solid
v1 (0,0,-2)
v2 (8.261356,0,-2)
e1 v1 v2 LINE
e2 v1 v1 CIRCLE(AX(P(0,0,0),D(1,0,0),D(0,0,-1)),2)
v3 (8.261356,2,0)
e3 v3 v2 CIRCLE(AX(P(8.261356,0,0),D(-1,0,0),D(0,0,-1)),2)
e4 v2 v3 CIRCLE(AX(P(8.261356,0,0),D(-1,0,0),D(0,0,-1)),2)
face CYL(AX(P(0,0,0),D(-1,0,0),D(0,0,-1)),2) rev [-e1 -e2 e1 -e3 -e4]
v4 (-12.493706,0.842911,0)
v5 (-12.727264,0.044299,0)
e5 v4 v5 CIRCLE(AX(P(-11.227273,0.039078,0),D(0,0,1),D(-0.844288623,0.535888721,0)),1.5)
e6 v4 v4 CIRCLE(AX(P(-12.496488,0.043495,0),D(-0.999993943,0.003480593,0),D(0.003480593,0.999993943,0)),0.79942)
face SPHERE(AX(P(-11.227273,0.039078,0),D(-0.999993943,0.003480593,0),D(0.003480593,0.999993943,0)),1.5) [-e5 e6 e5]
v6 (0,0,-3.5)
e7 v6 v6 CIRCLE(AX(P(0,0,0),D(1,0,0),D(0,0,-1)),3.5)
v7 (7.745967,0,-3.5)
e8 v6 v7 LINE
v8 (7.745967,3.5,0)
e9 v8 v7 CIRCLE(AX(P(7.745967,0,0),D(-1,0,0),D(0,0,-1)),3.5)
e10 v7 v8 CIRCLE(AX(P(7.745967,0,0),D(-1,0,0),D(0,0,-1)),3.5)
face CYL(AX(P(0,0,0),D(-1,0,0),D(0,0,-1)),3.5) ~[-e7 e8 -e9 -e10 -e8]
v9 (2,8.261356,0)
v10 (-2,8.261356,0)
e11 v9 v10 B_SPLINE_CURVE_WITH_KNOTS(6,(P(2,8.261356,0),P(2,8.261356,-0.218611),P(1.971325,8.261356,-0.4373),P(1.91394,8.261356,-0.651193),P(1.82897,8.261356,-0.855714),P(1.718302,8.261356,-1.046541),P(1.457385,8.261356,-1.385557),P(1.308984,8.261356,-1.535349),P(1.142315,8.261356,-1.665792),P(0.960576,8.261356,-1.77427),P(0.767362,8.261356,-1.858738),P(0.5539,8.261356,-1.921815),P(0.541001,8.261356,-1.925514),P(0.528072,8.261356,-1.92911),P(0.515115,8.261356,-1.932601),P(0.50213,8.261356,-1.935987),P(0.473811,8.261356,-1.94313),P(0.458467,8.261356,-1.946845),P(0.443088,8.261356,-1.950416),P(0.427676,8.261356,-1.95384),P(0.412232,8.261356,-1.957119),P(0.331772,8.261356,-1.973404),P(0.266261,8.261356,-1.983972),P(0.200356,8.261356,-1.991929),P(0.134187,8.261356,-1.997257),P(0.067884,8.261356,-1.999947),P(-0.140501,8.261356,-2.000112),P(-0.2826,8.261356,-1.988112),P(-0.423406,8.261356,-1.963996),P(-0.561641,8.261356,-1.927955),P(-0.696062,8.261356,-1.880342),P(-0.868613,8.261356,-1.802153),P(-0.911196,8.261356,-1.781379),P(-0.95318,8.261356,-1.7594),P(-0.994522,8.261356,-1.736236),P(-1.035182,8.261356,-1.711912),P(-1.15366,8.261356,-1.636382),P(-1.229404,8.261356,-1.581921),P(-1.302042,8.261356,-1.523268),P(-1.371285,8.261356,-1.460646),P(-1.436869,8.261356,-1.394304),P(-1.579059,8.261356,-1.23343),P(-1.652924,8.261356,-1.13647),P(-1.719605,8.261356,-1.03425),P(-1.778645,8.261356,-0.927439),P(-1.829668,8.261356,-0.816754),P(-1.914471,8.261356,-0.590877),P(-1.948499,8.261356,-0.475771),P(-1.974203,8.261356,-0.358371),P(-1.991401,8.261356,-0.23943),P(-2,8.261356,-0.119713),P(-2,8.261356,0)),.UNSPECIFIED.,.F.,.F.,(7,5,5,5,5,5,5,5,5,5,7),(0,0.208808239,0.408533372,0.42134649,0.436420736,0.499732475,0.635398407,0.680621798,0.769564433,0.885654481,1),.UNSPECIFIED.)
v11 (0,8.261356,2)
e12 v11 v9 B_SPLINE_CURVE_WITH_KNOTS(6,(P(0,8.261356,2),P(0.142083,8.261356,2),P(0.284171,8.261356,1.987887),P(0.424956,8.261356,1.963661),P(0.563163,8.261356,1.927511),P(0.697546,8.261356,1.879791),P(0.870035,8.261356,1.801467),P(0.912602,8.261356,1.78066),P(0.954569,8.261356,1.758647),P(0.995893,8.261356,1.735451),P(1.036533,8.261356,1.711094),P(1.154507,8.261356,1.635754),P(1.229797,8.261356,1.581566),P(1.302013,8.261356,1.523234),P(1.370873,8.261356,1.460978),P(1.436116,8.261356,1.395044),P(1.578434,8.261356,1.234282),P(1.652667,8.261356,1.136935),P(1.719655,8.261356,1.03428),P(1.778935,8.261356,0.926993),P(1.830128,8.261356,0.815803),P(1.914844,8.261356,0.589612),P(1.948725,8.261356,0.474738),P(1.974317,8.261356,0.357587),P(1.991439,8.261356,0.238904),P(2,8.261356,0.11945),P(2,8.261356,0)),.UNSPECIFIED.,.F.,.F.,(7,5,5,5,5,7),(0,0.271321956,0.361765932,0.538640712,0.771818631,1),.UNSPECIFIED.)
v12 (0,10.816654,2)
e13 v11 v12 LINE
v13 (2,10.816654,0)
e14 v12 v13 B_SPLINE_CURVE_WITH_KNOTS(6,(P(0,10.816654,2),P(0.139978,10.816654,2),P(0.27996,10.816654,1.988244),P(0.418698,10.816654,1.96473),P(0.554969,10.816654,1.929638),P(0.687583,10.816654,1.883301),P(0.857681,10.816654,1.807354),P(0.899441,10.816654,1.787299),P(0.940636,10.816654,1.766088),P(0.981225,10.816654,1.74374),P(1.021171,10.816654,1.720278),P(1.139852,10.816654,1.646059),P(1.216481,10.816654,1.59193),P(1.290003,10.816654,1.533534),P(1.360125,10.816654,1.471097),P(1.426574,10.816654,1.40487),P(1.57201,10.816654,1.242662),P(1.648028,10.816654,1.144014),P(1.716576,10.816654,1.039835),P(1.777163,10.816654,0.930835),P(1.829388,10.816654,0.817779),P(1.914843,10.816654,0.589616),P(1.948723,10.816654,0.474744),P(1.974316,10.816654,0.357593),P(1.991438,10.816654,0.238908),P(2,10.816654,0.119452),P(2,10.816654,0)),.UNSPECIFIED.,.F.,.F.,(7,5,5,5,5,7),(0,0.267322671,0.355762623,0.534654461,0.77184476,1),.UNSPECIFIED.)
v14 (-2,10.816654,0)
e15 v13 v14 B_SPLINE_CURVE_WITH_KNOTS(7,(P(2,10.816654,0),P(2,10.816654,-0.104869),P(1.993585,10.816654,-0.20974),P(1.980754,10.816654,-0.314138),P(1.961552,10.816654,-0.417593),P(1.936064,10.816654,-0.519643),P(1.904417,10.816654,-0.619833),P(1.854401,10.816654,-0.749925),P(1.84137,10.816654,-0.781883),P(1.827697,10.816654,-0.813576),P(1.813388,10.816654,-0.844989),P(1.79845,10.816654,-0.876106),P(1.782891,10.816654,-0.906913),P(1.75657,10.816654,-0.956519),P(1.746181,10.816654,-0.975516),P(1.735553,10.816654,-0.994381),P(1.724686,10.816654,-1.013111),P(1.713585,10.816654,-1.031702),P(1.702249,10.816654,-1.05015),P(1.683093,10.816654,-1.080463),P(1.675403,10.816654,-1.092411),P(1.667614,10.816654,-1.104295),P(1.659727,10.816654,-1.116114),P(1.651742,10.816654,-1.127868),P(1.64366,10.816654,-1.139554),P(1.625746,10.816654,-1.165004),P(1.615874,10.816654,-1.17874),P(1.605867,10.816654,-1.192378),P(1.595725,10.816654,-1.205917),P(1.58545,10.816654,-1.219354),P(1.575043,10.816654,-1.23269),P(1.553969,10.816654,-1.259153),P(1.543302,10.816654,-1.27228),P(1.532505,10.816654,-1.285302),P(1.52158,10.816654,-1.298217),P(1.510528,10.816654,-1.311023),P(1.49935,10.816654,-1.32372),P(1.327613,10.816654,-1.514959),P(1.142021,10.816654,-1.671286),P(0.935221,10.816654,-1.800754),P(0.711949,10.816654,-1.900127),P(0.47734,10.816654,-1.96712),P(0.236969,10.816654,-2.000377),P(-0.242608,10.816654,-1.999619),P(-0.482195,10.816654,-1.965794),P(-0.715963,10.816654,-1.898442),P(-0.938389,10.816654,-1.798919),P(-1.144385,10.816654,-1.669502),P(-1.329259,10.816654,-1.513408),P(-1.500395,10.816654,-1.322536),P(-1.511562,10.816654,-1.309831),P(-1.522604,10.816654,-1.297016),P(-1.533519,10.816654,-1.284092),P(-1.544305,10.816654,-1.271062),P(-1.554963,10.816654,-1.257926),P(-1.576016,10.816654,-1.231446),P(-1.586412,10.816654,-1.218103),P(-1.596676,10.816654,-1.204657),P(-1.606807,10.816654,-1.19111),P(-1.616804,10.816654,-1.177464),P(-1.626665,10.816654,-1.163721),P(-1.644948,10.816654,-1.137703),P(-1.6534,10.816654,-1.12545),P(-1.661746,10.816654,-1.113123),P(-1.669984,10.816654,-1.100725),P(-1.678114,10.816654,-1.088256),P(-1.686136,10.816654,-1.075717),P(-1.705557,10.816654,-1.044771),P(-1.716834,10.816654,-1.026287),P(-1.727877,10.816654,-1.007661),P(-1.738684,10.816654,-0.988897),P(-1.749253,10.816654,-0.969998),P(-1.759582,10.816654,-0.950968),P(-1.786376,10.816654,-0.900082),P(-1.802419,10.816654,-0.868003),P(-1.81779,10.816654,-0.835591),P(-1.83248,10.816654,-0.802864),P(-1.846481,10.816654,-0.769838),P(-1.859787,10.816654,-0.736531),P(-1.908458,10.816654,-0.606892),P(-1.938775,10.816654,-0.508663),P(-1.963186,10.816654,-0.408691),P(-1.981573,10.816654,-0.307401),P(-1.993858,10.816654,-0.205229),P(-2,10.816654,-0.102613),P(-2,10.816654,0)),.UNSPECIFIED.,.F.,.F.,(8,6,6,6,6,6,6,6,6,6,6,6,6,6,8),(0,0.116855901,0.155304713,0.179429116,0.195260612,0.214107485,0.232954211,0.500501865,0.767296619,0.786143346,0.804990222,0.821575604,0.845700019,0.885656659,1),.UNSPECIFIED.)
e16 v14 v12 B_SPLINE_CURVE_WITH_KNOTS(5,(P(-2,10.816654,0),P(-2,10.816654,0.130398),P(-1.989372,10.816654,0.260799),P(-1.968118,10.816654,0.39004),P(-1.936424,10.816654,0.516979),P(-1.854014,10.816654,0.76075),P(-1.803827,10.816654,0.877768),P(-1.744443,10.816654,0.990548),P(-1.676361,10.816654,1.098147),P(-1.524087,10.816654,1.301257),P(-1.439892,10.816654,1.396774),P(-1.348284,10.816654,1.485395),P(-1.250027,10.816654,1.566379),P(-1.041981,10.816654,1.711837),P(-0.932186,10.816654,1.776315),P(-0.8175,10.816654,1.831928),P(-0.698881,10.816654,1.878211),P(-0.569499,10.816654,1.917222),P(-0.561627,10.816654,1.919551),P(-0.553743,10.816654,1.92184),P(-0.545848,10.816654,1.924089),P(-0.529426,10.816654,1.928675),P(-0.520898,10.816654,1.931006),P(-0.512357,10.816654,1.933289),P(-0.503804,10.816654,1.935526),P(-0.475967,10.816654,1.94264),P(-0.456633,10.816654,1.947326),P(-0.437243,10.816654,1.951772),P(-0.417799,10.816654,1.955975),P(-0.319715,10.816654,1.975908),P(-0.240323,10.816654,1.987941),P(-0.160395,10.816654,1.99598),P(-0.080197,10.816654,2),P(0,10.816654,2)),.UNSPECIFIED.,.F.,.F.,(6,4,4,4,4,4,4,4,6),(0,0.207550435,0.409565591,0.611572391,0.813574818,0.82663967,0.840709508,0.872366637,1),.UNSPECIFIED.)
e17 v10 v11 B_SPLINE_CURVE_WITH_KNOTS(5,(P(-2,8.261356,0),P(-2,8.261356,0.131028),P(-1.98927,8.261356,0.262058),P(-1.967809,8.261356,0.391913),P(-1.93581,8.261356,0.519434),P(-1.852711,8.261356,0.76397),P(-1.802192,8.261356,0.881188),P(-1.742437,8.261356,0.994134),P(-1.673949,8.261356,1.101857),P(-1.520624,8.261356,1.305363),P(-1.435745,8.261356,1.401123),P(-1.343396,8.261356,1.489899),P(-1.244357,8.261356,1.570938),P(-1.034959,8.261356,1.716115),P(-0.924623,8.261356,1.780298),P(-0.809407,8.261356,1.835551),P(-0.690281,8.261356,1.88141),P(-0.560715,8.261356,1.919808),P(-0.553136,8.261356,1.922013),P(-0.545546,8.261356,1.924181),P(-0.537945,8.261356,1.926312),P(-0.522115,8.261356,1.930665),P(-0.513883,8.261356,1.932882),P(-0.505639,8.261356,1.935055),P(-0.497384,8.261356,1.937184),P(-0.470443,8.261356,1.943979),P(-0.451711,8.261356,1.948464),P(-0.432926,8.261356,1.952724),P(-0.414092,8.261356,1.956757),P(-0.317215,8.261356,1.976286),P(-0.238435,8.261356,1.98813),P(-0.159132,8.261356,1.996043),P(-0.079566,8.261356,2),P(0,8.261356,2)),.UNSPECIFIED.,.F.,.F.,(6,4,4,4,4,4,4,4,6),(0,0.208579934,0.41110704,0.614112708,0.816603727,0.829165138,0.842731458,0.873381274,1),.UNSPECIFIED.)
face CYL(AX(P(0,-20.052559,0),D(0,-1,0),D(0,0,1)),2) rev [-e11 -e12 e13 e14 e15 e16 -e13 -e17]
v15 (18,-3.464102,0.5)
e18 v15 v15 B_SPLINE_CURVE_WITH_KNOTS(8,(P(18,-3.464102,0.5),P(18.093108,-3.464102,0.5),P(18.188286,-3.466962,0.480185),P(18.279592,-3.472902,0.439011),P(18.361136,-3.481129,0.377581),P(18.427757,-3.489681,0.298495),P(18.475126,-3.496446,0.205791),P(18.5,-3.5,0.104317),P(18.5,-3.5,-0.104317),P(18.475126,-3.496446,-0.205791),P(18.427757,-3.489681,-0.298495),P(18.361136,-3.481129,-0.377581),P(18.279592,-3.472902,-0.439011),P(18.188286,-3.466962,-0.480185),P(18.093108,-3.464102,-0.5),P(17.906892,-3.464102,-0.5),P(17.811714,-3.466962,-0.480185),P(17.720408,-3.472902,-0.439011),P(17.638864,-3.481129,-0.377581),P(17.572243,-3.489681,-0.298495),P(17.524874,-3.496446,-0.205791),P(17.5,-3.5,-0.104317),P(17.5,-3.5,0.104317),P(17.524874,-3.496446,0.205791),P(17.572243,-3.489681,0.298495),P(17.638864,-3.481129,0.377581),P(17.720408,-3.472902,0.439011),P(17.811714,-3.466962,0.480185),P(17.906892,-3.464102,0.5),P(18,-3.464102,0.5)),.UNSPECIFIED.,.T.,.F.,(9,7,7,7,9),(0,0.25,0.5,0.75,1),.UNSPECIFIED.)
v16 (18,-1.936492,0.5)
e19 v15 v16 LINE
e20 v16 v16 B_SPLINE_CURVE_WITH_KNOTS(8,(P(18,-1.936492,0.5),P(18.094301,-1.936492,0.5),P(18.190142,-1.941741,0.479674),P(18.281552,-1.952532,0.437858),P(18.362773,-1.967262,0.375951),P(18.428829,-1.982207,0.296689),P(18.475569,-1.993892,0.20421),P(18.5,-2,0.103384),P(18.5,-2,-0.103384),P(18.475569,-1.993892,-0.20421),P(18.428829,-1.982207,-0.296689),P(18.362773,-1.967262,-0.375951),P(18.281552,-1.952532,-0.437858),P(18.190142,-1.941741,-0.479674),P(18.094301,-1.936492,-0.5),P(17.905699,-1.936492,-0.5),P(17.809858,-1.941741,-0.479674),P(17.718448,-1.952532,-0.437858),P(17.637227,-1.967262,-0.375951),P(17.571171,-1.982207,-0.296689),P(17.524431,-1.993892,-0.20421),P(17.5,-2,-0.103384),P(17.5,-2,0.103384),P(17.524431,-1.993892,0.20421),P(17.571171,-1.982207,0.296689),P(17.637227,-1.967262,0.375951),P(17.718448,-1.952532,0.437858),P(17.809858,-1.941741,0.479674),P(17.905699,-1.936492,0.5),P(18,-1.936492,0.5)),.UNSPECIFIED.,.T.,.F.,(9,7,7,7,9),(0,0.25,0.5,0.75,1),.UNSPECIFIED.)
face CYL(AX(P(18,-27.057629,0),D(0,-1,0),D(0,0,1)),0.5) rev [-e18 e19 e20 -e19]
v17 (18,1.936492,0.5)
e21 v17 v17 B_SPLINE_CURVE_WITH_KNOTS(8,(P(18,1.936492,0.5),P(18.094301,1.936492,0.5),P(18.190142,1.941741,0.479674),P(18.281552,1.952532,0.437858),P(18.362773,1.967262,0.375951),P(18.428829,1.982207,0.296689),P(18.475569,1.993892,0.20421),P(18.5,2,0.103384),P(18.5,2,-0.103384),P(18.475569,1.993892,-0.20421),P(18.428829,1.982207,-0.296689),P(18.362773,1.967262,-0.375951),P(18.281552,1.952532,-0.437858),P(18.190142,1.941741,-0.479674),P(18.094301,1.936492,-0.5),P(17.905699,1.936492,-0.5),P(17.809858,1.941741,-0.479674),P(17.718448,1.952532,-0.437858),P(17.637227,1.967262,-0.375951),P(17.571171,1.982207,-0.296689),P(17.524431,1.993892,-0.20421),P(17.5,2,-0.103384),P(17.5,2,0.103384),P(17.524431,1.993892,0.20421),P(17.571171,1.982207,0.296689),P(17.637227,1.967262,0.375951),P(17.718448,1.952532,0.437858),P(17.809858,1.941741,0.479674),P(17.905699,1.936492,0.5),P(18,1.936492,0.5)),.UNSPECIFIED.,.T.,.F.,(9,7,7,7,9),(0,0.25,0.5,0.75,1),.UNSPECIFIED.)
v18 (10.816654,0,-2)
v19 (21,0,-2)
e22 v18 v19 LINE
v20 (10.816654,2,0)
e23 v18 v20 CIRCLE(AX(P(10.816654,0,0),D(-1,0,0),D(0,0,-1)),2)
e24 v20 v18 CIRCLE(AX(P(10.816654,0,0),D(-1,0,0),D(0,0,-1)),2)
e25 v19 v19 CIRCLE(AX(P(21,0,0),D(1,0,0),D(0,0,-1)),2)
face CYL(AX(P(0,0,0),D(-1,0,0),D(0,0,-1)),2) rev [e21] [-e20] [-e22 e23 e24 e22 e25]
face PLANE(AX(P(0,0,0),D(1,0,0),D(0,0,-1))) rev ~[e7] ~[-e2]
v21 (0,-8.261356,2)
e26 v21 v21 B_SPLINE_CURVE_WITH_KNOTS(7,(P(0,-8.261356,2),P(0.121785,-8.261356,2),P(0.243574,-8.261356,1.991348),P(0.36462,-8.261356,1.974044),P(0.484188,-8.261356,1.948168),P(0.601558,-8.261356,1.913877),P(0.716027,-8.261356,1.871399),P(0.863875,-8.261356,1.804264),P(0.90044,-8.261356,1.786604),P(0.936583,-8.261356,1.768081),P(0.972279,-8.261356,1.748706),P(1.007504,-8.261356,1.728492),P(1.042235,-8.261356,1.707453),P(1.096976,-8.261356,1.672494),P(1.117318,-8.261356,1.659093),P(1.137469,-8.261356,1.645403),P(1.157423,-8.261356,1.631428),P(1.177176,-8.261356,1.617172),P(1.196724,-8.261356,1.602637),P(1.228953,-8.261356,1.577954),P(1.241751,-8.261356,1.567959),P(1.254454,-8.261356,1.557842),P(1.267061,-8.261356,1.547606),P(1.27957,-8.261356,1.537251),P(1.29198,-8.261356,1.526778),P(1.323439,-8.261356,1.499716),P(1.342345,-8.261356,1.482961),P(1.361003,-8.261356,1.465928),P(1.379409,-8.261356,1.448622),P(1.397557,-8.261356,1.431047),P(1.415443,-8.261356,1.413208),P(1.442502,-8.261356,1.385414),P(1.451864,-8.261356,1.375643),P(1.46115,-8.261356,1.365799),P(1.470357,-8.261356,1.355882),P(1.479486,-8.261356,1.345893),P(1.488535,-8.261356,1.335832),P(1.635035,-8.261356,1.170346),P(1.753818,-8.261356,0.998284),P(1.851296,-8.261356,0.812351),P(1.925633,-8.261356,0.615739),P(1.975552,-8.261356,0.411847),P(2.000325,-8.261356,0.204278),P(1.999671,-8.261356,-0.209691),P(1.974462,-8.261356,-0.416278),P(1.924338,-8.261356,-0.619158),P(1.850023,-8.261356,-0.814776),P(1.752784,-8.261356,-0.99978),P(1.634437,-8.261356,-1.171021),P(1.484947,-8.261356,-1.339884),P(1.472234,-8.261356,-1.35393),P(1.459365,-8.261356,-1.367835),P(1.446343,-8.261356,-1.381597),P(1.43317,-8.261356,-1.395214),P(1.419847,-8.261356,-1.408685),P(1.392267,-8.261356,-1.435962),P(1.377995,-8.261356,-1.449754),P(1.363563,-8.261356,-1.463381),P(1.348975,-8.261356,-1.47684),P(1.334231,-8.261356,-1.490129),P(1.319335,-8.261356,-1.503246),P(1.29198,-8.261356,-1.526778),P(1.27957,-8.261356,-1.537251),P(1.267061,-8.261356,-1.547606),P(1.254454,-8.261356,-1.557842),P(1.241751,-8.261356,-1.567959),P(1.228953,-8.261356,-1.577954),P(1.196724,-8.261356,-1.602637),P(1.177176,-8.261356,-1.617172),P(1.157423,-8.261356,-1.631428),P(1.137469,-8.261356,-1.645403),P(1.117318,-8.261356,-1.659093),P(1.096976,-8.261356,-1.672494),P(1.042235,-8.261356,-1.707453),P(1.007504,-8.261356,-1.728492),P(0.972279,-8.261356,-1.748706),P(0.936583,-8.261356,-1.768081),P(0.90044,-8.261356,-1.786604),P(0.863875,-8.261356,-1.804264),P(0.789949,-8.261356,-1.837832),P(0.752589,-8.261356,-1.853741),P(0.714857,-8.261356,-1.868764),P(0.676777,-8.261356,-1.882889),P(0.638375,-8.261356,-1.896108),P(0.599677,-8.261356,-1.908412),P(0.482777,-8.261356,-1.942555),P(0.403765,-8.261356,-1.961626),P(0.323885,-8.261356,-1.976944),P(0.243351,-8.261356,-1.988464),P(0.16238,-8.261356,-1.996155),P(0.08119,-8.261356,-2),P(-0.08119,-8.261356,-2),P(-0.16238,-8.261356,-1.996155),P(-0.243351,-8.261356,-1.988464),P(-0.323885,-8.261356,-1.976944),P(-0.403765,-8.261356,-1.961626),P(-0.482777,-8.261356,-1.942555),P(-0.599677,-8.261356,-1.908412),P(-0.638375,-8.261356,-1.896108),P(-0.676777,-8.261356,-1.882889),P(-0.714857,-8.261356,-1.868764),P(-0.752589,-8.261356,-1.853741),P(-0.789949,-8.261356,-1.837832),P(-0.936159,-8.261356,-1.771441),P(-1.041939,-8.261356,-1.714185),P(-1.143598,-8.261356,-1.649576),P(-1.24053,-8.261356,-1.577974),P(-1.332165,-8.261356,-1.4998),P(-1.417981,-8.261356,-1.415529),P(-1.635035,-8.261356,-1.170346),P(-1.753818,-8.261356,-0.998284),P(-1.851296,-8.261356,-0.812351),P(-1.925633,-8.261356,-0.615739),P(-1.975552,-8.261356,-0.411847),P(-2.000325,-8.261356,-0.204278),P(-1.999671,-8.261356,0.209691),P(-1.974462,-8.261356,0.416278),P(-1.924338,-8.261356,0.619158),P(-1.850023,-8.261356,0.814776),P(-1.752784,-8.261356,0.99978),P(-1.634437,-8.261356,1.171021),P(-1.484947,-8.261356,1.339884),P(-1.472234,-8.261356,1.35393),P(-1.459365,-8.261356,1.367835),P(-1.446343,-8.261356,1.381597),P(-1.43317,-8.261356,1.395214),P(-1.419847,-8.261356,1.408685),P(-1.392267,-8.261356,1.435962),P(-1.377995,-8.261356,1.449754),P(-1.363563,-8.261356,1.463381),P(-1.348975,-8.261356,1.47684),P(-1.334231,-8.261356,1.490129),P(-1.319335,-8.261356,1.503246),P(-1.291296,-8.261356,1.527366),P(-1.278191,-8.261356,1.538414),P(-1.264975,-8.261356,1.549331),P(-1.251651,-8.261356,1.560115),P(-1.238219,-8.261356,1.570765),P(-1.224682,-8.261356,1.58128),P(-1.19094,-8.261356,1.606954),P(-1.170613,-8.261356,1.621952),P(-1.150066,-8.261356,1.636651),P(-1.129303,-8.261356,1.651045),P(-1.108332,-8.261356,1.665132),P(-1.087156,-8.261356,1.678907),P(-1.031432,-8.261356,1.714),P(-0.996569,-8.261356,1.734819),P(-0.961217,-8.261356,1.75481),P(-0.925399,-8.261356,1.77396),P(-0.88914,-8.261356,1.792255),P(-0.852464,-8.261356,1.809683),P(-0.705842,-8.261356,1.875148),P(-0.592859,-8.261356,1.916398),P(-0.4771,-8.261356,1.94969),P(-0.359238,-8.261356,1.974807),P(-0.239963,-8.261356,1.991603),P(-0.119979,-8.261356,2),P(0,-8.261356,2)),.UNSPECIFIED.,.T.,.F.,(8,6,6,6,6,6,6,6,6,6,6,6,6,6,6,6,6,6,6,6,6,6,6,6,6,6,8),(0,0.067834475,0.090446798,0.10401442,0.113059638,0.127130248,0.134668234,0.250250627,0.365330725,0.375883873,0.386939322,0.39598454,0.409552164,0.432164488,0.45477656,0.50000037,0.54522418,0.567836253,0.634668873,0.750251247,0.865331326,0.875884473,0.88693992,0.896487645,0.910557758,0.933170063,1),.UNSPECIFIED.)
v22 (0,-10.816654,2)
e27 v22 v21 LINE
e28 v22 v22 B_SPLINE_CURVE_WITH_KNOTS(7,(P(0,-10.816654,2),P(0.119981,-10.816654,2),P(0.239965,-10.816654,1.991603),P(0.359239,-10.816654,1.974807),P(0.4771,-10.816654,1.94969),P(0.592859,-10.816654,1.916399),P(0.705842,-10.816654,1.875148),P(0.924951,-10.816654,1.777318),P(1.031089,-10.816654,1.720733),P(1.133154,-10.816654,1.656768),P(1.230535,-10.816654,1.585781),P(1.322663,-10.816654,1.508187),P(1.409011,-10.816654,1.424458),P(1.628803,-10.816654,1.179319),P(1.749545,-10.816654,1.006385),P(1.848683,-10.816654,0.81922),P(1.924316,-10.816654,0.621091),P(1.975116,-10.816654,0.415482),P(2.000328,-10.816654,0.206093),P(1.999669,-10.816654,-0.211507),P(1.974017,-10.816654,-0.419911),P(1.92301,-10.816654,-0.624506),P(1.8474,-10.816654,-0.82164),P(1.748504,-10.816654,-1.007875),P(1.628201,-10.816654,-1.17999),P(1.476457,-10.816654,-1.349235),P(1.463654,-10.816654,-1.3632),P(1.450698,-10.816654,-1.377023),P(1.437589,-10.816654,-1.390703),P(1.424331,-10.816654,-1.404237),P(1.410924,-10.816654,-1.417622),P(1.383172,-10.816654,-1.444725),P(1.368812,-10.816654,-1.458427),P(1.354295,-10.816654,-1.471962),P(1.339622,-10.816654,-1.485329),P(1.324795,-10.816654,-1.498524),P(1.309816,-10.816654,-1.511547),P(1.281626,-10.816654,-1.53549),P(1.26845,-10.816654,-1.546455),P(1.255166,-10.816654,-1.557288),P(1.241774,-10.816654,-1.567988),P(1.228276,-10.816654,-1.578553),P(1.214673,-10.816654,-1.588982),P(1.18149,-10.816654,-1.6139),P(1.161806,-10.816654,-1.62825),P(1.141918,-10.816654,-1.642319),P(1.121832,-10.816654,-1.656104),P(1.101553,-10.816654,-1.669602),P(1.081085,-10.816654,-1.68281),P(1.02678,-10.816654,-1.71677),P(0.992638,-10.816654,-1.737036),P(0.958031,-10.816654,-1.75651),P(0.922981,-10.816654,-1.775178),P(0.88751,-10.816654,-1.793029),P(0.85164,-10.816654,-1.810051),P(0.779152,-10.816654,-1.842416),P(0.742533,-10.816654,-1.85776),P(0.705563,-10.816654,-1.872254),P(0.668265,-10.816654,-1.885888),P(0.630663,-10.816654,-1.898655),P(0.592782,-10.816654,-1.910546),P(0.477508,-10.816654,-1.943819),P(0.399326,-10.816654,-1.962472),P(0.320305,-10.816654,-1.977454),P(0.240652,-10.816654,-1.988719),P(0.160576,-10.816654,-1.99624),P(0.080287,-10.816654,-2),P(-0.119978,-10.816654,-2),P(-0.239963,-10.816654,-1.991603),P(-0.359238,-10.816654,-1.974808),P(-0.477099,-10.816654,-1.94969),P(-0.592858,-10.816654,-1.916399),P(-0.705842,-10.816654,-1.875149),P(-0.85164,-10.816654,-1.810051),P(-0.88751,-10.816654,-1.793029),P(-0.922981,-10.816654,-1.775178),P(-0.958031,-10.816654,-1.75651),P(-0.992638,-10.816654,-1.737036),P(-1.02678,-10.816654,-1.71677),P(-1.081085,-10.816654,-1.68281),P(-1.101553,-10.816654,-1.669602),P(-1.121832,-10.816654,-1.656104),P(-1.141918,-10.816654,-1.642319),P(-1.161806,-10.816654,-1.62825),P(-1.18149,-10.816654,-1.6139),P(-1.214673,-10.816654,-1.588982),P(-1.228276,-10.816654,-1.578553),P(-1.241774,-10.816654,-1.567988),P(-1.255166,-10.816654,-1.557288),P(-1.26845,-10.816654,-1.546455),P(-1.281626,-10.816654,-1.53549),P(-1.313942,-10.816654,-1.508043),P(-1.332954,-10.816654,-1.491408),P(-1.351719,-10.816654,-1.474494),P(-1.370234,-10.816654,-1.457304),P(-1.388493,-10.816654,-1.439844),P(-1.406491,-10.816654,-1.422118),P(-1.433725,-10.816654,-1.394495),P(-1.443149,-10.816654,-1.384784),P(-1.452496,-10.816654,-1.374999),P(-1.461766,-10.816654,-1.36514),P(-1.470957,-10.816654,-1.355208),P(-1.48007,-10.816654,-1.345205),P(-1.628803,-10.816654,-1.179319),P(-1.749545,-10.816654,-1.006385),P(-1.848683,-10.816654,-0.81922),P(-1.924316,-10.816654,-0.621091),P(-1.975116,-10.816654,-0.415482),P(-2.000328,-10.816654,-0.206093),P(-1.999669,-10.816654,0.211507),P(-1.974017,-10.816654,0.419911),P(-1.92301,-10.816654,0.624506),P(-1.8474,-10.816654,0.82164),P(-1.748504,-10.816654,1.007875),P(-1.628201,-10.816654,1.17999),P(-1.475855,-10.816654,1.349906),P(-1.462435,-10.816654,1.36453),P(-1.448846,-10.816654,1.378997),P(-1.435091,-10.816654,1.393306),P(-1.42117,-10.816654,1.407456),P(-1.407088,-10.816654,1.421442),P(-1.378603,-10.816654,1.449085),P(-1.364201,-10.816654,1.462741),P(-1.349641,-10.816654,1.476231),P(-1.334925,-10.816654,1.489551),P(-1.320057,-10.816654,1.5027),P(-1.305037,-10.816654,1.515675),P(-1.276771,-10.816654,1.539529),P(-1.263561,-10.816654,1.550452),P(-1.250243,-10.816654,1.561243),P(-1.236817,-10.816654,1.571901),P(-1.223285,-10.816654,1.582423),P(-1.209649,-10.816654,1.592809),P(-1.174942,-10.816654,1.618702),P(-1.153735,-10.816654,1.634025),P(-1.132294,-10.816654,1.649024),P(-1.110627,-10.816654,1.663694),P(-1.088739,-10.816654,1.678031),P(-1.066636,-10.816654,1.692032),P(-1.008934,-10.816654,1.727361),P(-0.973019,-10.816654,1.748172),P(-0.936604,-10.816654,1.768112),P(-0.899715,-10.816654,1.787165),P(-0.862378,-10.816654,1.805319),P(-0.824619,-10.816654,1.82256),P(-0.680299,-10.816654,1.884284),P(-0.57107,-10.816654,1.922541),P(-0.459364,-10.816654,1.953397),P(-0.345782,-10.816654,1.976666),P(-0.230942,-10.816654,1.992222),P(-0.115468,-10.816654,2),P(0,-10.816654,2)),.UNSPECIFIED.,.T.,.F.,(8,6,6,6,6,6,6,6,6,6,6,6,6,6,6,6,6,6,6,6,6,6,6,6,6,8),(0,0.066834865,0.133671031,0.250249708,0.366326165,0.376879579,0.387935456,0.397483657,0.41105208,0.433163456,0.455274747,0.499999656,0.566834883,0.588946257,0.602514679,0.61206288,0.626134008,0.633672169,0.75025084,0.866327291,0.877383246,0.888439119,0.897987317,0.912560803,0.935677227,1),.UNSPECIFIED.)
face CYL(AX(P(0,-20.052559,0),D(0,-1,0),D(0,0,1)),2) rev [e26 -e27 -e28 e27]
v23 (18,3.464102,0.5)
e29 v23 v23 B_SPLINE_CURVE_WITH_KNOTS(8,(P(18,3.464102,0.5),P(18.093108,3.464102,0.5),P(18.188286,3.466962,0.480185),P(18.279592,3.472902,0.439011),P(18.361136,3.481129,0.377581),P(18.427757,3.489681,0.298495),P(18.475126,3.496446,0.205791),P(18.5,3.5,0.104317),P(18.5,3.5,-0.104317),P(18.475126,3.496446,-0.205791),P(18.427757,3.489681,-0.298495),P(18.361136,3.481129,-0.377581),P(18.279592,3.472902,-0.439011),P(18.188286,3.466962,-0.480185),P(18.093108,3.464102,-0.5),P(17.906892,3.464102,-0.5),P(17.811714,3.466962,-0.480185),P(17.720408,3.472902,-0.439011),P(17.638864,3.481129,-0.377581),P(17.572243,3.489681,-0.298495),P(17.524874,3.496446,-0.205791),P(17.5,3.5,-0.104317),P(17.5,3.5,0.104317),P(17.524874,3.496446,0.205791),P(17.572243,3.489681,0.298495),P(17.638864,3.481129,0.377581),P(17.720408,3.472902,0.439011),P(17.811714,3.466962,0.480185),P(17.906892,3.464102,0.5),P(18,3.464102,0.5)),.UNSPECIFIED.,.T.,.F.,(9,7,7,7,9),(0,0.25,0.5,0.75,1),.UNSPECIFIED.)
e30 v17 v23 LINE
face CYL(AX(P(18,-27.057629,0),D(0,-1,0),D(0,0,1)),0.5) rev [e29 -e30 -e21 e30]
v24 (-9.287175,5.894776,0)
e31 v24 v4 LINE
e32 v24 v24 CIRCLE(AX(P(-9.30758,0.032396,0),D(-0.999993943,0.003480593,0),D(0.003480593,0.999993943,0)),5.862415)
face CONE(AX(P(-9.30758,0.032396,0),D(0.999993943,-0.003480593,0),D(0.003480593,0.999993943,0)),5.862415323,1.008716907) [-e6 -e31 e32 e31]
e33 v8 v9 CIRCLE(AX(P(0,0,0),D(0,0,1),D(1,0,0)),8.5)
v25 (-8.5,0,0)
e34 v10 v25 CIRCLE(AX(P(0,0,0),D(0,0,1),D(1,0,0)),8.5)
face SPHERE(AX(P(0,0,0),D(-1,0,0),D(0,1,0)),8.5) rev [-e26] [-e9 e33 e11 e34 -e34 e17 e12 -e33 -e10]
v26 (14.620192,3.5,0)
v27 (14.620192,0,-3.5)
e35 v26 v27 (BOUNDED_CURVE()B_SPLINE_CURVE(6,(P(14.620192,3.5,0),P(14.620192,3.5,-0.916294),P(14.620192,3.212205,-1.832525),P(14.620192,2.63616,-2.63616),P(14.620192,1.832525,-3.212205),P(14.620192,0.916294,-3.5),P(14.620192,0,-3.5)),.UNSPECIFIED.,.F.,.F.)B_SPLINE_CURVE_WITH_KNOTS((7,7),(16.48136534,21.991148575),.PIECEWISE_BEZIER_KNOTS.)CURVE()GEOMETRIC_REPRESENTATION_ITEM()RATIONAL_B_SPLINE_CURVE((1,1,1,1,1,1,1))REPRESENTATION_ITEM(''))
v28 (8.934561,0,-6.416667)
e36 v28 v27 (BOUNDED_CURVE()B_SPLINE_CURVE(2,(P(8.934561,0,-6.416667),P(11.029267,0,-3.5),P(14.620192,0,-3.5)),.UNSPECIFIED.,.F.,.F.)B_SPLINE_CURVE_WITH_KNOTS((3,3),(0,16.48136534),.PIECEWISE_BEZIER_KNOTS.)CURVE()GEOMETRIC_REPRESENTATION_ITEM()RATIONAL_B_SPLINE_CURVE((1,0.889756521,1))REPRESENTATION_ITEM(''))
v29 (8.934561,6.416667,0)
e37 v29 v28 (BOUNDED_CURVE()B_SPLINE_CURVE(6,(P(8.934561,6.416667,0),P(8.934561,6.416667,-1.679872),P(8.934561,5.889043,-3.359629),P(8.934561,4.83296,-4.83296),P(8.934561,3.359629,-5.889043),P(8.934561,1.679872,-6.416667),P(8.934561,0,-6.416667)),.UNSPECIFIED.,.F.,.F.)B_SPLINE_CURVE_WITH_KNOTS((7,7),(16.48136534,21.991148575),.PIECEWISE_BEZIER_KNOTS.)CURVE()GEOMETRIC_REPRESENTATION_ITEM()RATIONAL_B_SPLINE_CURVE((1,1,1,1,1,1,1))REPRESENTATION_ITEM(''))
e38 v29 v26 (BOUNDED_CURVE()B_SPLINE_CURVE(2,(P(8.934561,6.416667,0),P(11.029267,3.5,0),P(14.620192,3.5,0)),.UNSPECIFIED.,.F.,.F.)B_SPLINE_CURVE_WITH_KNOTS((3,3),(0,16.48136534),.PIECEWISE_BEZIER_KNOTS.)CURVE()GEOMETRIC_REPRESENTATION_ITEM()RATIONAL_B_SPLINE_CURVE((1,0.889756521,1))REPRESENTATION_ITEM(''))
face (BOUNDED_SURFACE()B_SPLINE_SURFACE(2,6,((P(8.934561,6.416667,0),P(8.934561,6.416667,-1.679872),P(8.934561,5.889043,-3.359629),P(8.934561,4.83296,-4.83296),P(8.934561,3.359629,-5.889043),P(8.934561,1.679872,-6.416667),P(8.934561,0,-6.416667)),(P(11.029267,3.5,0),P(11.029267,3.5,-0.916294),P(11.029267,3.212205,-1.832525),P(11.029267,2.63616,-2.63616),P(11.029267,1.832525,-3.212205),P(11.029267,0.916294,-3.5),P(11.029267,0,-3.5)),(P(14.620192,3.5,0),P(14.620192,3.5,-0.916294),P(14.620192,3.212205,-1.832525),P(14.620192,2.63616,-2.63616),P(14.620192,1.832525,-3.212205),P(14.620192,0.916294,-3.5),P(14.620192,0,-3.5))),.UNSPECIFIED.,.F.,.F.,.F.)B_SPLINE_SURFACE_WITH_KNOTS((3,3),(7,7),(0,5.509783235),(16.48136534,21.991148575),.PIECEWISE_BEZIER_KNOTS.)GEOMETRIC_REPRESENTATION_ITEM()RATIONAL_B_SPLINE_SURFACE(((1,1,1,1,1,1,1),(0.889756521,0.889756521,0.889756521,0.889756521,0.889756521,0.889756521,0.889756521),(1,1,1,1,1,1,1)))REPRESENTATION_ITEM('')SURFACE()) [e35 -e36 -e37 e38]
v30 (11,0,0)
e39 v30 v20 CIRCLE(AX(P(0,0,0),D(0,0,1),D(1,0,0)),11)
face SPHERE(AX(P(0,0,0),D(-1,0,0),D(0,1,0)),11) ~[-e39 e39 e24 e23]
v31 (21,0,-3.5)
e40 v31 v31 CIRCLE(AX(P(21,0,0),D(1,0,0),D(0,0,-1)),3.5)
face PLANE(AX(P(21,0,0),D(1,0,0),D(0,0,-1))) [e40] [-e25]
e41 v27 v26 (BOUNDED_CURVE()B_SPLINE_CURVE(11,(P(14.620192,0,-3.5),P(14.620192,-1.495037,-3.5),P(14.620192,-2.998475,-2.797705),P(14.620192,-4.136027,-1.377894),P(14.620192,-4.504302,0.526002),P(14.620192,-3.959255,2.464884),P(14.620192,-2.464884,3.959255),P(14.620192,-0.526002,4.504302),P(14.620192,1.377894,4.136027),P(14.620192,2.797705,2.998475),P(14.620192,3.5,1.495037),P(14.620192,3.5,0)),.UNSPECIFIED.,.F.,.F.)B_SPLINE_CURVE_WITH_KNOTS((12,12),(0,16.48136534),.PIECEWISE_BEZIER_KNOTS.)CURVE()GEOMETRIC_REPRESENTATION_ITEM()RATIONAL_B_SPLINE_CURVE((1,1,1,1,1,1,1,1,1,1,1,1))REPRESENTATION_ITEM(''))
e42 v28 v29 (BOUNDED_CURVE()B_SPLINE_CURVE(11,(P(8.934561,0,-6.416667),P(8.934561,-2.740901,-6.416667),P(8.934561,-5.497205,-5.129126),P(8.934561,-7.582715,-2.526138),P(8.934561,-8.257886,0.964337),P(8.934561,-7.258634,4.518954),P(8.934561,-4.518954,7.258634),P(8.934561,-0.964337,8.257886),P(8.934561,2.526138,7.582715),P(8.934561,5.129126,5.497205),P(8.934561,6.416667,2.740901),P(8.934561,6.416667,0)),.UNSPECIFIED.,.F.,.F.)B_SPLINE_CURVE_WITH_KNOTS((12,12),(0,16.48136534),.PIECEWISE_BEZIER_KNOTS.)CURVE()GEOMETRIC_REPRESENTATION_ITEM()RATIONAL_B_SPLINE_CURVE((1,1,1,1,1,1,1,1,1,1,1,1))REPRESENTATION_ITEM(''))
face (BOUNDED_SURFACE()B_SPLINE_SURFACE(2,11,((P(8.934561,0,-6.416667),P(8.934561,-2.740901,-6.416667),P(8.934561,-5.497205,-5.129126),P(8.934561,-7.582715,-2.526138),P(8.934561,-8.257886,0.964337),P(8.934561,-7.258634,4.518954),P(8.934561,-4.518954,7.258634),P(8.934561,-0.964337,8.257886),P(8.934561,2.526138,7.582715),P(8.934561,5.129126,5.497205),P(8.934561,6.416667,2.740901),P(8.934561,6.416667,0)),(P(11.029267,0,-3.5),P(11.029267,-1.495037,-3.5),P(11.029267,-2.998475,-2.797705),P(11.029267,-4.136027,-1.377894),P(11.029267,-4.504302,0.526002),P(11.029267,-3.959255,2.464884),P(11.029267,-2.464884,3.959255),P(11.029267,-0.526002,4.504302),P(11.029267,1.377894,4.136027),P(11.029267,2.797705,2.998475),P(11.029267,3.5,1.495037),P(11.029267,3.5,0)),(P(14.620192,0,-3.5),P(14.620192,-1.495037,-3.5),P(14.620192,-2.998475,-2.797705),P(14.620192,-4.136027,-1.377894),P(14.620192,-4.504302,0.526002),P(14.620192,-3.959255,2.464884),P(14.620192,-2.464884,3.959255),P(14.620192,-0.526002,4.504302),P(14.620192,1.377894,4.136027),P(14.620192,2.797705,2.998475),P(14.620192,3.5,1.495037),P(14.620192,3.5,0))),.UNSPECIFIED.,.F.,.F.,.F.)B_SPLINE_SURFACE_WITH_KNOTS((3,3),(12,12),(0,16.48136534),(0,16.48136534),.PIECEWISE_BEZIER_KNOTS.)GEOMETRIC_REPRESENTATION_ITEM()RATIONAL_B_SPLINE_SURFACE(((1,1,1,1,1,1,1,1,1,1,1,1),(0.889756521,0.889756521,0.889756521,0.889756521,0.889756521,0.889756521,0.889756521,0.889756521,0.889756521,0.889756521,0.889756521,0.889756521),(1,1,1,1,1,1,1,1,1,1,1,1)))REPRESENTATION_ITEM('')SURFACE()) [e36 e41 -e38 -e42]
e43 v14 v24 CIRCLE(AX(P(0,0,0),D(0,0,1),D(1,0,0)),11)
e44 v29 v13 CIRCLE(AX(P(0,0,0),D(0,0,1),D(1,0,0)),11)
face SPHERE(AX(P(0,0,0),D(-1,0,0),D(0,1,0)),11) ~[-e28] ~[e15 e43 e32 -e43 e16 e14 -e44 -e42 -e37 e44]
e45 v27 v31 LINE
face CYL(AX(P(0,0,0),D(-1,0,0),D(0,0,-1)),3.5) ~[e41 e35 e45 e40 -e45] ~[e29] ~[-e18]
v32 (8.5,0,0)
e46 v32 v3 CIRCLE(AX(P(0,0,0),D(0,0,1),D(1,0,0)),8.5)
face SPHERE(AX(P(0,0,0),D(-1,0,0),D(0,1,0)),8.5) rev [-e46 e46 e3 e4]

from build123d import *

# Parameters (mm, degrees)
COQUE1_T                     = 2.5
ENL_V_MAT_EXTRU_1_DEPTH      = 20.052558883
ENL_V_MAT_EXTRU_1_DEPTH_BACK = 20.052558883
ESQUISSE2_R                  = 2
ESQUISSE3_R                  = 3.5
ESQUISSE3_R_2                = 2
EXTRU_MINCE1_DEPTH           = 21
CONG_1_R                     = 7
ENL_V_MAT_EXTRU_2_DEPTH      = 27.057628564
ENL_V_MAT_EXTRU_2_DEPTH_BACK = 27.057628564
ESQUISSE5_R                  = 0.5


with BuildPart() as part:
    # Esquisse1 → Révolution1 (revolve)
    with BuildSketch(Plane.XY):
        with BuildLine():
            Line((-11, 0), (11, 0))
            ThreePointArc((11, 0), (0, 11), (-11, 0))
        make_face()
    revolve(axis=Axis((-11, 0, 0), (1, 0, 0)))

    # Coque1 (no face opened: a closed hollow body)
    add(offset(amount=-COQUE1_T, mode=Mode.PRIVATE), mode=Mode.SUBTRACT)

    # Esquisse2 → Enlèv. mat.-Extru.1 (cut, two sides: drawn at the far end of the back side and taken through both)
    with BuildSketch(Plane(origin=(0, 0, 0), x_dir=(1, 0, 0), z_dir=(0, 1, 0)).offset(-ENL_V_MAT_EXTRU_1_DEPTH_BACK)):
        with Locations(Location((0, 0, 0), (0, 0, 270))):
            Circle(ESQUISSE2_R)
    extrude(amount=ENL_V_MAT_EXTRU_1_DEPTH + ENL_V_MAT_EXTRU_1_DEPTH_BACK, mode=Mode.SUBTRACT)

    # Esquisse3 → Extru.-Mince1 (add)
    with BuildSketch(Plane(origin=(0, 0, 0), x_dir=(0, 0, -1), z_dir=(1, 0, 0))):
        Circle(ESQUISSE3_R)
        Circle(ESQUISSE3_R_2, mode=Mode.SUBTRACT)
    extrude(amount=EXTRU_MINCE1_DEPTH)

    # Congé1
    cong_1_edges = [part.edges().sort_by_distance(p)[0] for p in [
        (10.428326807, -2.474873734, 2.474873734),
    ]]
    fillet(cong_1_edges, radius=CONG_1_R)

    # Esquisse4 → Révolution4 (revolve)
    with BuildSketch(Plane.XY):
        with BuildLine():
            Line((-9.287174866, 5.894775909), (-12.493705663, 0.842910886))
            ThreePointArc((-12.493705663, 0.842910886), (-12.666967343, 0.460123427), (-12.727263641, 0.044298698))
            Line((-12.727263641, 0.044298698), (-9.307579549, 0.032396096))
            Line((-9.307579549, 0.032396096), (-9.287174866, 5.894775909))
        make_face()
    revolve(axis=Axis((-9.307579549, 0.032396096, 0), (-0.9999939427166084, 0.00348059335354882, 0)))

    # Esquisse5 → Enlèv. mat.-Extru.2 (cut, two sides: drawn at the far end of the back side and taken through both)
    with BuildSketch(Plane(origin=(0, 0, 0), x_dir=(1, 0, 0), z_dir=(0, 1, 0)).offset(-ENL_V_MAT_EXTRU_2_DEPTH_BACK)):
        with Locations(Location((18, 0, 0), (0, 0, 270))):
            Circle(ESQUISSE5_R)
    extrude(amount=ENL_V_MAT_EXTRU_2_DEPTH + ENL_V_MAT_EXTRU_2_DEPTH_BACK, mode=Mode.SUBTRACT)


solid = part.part
